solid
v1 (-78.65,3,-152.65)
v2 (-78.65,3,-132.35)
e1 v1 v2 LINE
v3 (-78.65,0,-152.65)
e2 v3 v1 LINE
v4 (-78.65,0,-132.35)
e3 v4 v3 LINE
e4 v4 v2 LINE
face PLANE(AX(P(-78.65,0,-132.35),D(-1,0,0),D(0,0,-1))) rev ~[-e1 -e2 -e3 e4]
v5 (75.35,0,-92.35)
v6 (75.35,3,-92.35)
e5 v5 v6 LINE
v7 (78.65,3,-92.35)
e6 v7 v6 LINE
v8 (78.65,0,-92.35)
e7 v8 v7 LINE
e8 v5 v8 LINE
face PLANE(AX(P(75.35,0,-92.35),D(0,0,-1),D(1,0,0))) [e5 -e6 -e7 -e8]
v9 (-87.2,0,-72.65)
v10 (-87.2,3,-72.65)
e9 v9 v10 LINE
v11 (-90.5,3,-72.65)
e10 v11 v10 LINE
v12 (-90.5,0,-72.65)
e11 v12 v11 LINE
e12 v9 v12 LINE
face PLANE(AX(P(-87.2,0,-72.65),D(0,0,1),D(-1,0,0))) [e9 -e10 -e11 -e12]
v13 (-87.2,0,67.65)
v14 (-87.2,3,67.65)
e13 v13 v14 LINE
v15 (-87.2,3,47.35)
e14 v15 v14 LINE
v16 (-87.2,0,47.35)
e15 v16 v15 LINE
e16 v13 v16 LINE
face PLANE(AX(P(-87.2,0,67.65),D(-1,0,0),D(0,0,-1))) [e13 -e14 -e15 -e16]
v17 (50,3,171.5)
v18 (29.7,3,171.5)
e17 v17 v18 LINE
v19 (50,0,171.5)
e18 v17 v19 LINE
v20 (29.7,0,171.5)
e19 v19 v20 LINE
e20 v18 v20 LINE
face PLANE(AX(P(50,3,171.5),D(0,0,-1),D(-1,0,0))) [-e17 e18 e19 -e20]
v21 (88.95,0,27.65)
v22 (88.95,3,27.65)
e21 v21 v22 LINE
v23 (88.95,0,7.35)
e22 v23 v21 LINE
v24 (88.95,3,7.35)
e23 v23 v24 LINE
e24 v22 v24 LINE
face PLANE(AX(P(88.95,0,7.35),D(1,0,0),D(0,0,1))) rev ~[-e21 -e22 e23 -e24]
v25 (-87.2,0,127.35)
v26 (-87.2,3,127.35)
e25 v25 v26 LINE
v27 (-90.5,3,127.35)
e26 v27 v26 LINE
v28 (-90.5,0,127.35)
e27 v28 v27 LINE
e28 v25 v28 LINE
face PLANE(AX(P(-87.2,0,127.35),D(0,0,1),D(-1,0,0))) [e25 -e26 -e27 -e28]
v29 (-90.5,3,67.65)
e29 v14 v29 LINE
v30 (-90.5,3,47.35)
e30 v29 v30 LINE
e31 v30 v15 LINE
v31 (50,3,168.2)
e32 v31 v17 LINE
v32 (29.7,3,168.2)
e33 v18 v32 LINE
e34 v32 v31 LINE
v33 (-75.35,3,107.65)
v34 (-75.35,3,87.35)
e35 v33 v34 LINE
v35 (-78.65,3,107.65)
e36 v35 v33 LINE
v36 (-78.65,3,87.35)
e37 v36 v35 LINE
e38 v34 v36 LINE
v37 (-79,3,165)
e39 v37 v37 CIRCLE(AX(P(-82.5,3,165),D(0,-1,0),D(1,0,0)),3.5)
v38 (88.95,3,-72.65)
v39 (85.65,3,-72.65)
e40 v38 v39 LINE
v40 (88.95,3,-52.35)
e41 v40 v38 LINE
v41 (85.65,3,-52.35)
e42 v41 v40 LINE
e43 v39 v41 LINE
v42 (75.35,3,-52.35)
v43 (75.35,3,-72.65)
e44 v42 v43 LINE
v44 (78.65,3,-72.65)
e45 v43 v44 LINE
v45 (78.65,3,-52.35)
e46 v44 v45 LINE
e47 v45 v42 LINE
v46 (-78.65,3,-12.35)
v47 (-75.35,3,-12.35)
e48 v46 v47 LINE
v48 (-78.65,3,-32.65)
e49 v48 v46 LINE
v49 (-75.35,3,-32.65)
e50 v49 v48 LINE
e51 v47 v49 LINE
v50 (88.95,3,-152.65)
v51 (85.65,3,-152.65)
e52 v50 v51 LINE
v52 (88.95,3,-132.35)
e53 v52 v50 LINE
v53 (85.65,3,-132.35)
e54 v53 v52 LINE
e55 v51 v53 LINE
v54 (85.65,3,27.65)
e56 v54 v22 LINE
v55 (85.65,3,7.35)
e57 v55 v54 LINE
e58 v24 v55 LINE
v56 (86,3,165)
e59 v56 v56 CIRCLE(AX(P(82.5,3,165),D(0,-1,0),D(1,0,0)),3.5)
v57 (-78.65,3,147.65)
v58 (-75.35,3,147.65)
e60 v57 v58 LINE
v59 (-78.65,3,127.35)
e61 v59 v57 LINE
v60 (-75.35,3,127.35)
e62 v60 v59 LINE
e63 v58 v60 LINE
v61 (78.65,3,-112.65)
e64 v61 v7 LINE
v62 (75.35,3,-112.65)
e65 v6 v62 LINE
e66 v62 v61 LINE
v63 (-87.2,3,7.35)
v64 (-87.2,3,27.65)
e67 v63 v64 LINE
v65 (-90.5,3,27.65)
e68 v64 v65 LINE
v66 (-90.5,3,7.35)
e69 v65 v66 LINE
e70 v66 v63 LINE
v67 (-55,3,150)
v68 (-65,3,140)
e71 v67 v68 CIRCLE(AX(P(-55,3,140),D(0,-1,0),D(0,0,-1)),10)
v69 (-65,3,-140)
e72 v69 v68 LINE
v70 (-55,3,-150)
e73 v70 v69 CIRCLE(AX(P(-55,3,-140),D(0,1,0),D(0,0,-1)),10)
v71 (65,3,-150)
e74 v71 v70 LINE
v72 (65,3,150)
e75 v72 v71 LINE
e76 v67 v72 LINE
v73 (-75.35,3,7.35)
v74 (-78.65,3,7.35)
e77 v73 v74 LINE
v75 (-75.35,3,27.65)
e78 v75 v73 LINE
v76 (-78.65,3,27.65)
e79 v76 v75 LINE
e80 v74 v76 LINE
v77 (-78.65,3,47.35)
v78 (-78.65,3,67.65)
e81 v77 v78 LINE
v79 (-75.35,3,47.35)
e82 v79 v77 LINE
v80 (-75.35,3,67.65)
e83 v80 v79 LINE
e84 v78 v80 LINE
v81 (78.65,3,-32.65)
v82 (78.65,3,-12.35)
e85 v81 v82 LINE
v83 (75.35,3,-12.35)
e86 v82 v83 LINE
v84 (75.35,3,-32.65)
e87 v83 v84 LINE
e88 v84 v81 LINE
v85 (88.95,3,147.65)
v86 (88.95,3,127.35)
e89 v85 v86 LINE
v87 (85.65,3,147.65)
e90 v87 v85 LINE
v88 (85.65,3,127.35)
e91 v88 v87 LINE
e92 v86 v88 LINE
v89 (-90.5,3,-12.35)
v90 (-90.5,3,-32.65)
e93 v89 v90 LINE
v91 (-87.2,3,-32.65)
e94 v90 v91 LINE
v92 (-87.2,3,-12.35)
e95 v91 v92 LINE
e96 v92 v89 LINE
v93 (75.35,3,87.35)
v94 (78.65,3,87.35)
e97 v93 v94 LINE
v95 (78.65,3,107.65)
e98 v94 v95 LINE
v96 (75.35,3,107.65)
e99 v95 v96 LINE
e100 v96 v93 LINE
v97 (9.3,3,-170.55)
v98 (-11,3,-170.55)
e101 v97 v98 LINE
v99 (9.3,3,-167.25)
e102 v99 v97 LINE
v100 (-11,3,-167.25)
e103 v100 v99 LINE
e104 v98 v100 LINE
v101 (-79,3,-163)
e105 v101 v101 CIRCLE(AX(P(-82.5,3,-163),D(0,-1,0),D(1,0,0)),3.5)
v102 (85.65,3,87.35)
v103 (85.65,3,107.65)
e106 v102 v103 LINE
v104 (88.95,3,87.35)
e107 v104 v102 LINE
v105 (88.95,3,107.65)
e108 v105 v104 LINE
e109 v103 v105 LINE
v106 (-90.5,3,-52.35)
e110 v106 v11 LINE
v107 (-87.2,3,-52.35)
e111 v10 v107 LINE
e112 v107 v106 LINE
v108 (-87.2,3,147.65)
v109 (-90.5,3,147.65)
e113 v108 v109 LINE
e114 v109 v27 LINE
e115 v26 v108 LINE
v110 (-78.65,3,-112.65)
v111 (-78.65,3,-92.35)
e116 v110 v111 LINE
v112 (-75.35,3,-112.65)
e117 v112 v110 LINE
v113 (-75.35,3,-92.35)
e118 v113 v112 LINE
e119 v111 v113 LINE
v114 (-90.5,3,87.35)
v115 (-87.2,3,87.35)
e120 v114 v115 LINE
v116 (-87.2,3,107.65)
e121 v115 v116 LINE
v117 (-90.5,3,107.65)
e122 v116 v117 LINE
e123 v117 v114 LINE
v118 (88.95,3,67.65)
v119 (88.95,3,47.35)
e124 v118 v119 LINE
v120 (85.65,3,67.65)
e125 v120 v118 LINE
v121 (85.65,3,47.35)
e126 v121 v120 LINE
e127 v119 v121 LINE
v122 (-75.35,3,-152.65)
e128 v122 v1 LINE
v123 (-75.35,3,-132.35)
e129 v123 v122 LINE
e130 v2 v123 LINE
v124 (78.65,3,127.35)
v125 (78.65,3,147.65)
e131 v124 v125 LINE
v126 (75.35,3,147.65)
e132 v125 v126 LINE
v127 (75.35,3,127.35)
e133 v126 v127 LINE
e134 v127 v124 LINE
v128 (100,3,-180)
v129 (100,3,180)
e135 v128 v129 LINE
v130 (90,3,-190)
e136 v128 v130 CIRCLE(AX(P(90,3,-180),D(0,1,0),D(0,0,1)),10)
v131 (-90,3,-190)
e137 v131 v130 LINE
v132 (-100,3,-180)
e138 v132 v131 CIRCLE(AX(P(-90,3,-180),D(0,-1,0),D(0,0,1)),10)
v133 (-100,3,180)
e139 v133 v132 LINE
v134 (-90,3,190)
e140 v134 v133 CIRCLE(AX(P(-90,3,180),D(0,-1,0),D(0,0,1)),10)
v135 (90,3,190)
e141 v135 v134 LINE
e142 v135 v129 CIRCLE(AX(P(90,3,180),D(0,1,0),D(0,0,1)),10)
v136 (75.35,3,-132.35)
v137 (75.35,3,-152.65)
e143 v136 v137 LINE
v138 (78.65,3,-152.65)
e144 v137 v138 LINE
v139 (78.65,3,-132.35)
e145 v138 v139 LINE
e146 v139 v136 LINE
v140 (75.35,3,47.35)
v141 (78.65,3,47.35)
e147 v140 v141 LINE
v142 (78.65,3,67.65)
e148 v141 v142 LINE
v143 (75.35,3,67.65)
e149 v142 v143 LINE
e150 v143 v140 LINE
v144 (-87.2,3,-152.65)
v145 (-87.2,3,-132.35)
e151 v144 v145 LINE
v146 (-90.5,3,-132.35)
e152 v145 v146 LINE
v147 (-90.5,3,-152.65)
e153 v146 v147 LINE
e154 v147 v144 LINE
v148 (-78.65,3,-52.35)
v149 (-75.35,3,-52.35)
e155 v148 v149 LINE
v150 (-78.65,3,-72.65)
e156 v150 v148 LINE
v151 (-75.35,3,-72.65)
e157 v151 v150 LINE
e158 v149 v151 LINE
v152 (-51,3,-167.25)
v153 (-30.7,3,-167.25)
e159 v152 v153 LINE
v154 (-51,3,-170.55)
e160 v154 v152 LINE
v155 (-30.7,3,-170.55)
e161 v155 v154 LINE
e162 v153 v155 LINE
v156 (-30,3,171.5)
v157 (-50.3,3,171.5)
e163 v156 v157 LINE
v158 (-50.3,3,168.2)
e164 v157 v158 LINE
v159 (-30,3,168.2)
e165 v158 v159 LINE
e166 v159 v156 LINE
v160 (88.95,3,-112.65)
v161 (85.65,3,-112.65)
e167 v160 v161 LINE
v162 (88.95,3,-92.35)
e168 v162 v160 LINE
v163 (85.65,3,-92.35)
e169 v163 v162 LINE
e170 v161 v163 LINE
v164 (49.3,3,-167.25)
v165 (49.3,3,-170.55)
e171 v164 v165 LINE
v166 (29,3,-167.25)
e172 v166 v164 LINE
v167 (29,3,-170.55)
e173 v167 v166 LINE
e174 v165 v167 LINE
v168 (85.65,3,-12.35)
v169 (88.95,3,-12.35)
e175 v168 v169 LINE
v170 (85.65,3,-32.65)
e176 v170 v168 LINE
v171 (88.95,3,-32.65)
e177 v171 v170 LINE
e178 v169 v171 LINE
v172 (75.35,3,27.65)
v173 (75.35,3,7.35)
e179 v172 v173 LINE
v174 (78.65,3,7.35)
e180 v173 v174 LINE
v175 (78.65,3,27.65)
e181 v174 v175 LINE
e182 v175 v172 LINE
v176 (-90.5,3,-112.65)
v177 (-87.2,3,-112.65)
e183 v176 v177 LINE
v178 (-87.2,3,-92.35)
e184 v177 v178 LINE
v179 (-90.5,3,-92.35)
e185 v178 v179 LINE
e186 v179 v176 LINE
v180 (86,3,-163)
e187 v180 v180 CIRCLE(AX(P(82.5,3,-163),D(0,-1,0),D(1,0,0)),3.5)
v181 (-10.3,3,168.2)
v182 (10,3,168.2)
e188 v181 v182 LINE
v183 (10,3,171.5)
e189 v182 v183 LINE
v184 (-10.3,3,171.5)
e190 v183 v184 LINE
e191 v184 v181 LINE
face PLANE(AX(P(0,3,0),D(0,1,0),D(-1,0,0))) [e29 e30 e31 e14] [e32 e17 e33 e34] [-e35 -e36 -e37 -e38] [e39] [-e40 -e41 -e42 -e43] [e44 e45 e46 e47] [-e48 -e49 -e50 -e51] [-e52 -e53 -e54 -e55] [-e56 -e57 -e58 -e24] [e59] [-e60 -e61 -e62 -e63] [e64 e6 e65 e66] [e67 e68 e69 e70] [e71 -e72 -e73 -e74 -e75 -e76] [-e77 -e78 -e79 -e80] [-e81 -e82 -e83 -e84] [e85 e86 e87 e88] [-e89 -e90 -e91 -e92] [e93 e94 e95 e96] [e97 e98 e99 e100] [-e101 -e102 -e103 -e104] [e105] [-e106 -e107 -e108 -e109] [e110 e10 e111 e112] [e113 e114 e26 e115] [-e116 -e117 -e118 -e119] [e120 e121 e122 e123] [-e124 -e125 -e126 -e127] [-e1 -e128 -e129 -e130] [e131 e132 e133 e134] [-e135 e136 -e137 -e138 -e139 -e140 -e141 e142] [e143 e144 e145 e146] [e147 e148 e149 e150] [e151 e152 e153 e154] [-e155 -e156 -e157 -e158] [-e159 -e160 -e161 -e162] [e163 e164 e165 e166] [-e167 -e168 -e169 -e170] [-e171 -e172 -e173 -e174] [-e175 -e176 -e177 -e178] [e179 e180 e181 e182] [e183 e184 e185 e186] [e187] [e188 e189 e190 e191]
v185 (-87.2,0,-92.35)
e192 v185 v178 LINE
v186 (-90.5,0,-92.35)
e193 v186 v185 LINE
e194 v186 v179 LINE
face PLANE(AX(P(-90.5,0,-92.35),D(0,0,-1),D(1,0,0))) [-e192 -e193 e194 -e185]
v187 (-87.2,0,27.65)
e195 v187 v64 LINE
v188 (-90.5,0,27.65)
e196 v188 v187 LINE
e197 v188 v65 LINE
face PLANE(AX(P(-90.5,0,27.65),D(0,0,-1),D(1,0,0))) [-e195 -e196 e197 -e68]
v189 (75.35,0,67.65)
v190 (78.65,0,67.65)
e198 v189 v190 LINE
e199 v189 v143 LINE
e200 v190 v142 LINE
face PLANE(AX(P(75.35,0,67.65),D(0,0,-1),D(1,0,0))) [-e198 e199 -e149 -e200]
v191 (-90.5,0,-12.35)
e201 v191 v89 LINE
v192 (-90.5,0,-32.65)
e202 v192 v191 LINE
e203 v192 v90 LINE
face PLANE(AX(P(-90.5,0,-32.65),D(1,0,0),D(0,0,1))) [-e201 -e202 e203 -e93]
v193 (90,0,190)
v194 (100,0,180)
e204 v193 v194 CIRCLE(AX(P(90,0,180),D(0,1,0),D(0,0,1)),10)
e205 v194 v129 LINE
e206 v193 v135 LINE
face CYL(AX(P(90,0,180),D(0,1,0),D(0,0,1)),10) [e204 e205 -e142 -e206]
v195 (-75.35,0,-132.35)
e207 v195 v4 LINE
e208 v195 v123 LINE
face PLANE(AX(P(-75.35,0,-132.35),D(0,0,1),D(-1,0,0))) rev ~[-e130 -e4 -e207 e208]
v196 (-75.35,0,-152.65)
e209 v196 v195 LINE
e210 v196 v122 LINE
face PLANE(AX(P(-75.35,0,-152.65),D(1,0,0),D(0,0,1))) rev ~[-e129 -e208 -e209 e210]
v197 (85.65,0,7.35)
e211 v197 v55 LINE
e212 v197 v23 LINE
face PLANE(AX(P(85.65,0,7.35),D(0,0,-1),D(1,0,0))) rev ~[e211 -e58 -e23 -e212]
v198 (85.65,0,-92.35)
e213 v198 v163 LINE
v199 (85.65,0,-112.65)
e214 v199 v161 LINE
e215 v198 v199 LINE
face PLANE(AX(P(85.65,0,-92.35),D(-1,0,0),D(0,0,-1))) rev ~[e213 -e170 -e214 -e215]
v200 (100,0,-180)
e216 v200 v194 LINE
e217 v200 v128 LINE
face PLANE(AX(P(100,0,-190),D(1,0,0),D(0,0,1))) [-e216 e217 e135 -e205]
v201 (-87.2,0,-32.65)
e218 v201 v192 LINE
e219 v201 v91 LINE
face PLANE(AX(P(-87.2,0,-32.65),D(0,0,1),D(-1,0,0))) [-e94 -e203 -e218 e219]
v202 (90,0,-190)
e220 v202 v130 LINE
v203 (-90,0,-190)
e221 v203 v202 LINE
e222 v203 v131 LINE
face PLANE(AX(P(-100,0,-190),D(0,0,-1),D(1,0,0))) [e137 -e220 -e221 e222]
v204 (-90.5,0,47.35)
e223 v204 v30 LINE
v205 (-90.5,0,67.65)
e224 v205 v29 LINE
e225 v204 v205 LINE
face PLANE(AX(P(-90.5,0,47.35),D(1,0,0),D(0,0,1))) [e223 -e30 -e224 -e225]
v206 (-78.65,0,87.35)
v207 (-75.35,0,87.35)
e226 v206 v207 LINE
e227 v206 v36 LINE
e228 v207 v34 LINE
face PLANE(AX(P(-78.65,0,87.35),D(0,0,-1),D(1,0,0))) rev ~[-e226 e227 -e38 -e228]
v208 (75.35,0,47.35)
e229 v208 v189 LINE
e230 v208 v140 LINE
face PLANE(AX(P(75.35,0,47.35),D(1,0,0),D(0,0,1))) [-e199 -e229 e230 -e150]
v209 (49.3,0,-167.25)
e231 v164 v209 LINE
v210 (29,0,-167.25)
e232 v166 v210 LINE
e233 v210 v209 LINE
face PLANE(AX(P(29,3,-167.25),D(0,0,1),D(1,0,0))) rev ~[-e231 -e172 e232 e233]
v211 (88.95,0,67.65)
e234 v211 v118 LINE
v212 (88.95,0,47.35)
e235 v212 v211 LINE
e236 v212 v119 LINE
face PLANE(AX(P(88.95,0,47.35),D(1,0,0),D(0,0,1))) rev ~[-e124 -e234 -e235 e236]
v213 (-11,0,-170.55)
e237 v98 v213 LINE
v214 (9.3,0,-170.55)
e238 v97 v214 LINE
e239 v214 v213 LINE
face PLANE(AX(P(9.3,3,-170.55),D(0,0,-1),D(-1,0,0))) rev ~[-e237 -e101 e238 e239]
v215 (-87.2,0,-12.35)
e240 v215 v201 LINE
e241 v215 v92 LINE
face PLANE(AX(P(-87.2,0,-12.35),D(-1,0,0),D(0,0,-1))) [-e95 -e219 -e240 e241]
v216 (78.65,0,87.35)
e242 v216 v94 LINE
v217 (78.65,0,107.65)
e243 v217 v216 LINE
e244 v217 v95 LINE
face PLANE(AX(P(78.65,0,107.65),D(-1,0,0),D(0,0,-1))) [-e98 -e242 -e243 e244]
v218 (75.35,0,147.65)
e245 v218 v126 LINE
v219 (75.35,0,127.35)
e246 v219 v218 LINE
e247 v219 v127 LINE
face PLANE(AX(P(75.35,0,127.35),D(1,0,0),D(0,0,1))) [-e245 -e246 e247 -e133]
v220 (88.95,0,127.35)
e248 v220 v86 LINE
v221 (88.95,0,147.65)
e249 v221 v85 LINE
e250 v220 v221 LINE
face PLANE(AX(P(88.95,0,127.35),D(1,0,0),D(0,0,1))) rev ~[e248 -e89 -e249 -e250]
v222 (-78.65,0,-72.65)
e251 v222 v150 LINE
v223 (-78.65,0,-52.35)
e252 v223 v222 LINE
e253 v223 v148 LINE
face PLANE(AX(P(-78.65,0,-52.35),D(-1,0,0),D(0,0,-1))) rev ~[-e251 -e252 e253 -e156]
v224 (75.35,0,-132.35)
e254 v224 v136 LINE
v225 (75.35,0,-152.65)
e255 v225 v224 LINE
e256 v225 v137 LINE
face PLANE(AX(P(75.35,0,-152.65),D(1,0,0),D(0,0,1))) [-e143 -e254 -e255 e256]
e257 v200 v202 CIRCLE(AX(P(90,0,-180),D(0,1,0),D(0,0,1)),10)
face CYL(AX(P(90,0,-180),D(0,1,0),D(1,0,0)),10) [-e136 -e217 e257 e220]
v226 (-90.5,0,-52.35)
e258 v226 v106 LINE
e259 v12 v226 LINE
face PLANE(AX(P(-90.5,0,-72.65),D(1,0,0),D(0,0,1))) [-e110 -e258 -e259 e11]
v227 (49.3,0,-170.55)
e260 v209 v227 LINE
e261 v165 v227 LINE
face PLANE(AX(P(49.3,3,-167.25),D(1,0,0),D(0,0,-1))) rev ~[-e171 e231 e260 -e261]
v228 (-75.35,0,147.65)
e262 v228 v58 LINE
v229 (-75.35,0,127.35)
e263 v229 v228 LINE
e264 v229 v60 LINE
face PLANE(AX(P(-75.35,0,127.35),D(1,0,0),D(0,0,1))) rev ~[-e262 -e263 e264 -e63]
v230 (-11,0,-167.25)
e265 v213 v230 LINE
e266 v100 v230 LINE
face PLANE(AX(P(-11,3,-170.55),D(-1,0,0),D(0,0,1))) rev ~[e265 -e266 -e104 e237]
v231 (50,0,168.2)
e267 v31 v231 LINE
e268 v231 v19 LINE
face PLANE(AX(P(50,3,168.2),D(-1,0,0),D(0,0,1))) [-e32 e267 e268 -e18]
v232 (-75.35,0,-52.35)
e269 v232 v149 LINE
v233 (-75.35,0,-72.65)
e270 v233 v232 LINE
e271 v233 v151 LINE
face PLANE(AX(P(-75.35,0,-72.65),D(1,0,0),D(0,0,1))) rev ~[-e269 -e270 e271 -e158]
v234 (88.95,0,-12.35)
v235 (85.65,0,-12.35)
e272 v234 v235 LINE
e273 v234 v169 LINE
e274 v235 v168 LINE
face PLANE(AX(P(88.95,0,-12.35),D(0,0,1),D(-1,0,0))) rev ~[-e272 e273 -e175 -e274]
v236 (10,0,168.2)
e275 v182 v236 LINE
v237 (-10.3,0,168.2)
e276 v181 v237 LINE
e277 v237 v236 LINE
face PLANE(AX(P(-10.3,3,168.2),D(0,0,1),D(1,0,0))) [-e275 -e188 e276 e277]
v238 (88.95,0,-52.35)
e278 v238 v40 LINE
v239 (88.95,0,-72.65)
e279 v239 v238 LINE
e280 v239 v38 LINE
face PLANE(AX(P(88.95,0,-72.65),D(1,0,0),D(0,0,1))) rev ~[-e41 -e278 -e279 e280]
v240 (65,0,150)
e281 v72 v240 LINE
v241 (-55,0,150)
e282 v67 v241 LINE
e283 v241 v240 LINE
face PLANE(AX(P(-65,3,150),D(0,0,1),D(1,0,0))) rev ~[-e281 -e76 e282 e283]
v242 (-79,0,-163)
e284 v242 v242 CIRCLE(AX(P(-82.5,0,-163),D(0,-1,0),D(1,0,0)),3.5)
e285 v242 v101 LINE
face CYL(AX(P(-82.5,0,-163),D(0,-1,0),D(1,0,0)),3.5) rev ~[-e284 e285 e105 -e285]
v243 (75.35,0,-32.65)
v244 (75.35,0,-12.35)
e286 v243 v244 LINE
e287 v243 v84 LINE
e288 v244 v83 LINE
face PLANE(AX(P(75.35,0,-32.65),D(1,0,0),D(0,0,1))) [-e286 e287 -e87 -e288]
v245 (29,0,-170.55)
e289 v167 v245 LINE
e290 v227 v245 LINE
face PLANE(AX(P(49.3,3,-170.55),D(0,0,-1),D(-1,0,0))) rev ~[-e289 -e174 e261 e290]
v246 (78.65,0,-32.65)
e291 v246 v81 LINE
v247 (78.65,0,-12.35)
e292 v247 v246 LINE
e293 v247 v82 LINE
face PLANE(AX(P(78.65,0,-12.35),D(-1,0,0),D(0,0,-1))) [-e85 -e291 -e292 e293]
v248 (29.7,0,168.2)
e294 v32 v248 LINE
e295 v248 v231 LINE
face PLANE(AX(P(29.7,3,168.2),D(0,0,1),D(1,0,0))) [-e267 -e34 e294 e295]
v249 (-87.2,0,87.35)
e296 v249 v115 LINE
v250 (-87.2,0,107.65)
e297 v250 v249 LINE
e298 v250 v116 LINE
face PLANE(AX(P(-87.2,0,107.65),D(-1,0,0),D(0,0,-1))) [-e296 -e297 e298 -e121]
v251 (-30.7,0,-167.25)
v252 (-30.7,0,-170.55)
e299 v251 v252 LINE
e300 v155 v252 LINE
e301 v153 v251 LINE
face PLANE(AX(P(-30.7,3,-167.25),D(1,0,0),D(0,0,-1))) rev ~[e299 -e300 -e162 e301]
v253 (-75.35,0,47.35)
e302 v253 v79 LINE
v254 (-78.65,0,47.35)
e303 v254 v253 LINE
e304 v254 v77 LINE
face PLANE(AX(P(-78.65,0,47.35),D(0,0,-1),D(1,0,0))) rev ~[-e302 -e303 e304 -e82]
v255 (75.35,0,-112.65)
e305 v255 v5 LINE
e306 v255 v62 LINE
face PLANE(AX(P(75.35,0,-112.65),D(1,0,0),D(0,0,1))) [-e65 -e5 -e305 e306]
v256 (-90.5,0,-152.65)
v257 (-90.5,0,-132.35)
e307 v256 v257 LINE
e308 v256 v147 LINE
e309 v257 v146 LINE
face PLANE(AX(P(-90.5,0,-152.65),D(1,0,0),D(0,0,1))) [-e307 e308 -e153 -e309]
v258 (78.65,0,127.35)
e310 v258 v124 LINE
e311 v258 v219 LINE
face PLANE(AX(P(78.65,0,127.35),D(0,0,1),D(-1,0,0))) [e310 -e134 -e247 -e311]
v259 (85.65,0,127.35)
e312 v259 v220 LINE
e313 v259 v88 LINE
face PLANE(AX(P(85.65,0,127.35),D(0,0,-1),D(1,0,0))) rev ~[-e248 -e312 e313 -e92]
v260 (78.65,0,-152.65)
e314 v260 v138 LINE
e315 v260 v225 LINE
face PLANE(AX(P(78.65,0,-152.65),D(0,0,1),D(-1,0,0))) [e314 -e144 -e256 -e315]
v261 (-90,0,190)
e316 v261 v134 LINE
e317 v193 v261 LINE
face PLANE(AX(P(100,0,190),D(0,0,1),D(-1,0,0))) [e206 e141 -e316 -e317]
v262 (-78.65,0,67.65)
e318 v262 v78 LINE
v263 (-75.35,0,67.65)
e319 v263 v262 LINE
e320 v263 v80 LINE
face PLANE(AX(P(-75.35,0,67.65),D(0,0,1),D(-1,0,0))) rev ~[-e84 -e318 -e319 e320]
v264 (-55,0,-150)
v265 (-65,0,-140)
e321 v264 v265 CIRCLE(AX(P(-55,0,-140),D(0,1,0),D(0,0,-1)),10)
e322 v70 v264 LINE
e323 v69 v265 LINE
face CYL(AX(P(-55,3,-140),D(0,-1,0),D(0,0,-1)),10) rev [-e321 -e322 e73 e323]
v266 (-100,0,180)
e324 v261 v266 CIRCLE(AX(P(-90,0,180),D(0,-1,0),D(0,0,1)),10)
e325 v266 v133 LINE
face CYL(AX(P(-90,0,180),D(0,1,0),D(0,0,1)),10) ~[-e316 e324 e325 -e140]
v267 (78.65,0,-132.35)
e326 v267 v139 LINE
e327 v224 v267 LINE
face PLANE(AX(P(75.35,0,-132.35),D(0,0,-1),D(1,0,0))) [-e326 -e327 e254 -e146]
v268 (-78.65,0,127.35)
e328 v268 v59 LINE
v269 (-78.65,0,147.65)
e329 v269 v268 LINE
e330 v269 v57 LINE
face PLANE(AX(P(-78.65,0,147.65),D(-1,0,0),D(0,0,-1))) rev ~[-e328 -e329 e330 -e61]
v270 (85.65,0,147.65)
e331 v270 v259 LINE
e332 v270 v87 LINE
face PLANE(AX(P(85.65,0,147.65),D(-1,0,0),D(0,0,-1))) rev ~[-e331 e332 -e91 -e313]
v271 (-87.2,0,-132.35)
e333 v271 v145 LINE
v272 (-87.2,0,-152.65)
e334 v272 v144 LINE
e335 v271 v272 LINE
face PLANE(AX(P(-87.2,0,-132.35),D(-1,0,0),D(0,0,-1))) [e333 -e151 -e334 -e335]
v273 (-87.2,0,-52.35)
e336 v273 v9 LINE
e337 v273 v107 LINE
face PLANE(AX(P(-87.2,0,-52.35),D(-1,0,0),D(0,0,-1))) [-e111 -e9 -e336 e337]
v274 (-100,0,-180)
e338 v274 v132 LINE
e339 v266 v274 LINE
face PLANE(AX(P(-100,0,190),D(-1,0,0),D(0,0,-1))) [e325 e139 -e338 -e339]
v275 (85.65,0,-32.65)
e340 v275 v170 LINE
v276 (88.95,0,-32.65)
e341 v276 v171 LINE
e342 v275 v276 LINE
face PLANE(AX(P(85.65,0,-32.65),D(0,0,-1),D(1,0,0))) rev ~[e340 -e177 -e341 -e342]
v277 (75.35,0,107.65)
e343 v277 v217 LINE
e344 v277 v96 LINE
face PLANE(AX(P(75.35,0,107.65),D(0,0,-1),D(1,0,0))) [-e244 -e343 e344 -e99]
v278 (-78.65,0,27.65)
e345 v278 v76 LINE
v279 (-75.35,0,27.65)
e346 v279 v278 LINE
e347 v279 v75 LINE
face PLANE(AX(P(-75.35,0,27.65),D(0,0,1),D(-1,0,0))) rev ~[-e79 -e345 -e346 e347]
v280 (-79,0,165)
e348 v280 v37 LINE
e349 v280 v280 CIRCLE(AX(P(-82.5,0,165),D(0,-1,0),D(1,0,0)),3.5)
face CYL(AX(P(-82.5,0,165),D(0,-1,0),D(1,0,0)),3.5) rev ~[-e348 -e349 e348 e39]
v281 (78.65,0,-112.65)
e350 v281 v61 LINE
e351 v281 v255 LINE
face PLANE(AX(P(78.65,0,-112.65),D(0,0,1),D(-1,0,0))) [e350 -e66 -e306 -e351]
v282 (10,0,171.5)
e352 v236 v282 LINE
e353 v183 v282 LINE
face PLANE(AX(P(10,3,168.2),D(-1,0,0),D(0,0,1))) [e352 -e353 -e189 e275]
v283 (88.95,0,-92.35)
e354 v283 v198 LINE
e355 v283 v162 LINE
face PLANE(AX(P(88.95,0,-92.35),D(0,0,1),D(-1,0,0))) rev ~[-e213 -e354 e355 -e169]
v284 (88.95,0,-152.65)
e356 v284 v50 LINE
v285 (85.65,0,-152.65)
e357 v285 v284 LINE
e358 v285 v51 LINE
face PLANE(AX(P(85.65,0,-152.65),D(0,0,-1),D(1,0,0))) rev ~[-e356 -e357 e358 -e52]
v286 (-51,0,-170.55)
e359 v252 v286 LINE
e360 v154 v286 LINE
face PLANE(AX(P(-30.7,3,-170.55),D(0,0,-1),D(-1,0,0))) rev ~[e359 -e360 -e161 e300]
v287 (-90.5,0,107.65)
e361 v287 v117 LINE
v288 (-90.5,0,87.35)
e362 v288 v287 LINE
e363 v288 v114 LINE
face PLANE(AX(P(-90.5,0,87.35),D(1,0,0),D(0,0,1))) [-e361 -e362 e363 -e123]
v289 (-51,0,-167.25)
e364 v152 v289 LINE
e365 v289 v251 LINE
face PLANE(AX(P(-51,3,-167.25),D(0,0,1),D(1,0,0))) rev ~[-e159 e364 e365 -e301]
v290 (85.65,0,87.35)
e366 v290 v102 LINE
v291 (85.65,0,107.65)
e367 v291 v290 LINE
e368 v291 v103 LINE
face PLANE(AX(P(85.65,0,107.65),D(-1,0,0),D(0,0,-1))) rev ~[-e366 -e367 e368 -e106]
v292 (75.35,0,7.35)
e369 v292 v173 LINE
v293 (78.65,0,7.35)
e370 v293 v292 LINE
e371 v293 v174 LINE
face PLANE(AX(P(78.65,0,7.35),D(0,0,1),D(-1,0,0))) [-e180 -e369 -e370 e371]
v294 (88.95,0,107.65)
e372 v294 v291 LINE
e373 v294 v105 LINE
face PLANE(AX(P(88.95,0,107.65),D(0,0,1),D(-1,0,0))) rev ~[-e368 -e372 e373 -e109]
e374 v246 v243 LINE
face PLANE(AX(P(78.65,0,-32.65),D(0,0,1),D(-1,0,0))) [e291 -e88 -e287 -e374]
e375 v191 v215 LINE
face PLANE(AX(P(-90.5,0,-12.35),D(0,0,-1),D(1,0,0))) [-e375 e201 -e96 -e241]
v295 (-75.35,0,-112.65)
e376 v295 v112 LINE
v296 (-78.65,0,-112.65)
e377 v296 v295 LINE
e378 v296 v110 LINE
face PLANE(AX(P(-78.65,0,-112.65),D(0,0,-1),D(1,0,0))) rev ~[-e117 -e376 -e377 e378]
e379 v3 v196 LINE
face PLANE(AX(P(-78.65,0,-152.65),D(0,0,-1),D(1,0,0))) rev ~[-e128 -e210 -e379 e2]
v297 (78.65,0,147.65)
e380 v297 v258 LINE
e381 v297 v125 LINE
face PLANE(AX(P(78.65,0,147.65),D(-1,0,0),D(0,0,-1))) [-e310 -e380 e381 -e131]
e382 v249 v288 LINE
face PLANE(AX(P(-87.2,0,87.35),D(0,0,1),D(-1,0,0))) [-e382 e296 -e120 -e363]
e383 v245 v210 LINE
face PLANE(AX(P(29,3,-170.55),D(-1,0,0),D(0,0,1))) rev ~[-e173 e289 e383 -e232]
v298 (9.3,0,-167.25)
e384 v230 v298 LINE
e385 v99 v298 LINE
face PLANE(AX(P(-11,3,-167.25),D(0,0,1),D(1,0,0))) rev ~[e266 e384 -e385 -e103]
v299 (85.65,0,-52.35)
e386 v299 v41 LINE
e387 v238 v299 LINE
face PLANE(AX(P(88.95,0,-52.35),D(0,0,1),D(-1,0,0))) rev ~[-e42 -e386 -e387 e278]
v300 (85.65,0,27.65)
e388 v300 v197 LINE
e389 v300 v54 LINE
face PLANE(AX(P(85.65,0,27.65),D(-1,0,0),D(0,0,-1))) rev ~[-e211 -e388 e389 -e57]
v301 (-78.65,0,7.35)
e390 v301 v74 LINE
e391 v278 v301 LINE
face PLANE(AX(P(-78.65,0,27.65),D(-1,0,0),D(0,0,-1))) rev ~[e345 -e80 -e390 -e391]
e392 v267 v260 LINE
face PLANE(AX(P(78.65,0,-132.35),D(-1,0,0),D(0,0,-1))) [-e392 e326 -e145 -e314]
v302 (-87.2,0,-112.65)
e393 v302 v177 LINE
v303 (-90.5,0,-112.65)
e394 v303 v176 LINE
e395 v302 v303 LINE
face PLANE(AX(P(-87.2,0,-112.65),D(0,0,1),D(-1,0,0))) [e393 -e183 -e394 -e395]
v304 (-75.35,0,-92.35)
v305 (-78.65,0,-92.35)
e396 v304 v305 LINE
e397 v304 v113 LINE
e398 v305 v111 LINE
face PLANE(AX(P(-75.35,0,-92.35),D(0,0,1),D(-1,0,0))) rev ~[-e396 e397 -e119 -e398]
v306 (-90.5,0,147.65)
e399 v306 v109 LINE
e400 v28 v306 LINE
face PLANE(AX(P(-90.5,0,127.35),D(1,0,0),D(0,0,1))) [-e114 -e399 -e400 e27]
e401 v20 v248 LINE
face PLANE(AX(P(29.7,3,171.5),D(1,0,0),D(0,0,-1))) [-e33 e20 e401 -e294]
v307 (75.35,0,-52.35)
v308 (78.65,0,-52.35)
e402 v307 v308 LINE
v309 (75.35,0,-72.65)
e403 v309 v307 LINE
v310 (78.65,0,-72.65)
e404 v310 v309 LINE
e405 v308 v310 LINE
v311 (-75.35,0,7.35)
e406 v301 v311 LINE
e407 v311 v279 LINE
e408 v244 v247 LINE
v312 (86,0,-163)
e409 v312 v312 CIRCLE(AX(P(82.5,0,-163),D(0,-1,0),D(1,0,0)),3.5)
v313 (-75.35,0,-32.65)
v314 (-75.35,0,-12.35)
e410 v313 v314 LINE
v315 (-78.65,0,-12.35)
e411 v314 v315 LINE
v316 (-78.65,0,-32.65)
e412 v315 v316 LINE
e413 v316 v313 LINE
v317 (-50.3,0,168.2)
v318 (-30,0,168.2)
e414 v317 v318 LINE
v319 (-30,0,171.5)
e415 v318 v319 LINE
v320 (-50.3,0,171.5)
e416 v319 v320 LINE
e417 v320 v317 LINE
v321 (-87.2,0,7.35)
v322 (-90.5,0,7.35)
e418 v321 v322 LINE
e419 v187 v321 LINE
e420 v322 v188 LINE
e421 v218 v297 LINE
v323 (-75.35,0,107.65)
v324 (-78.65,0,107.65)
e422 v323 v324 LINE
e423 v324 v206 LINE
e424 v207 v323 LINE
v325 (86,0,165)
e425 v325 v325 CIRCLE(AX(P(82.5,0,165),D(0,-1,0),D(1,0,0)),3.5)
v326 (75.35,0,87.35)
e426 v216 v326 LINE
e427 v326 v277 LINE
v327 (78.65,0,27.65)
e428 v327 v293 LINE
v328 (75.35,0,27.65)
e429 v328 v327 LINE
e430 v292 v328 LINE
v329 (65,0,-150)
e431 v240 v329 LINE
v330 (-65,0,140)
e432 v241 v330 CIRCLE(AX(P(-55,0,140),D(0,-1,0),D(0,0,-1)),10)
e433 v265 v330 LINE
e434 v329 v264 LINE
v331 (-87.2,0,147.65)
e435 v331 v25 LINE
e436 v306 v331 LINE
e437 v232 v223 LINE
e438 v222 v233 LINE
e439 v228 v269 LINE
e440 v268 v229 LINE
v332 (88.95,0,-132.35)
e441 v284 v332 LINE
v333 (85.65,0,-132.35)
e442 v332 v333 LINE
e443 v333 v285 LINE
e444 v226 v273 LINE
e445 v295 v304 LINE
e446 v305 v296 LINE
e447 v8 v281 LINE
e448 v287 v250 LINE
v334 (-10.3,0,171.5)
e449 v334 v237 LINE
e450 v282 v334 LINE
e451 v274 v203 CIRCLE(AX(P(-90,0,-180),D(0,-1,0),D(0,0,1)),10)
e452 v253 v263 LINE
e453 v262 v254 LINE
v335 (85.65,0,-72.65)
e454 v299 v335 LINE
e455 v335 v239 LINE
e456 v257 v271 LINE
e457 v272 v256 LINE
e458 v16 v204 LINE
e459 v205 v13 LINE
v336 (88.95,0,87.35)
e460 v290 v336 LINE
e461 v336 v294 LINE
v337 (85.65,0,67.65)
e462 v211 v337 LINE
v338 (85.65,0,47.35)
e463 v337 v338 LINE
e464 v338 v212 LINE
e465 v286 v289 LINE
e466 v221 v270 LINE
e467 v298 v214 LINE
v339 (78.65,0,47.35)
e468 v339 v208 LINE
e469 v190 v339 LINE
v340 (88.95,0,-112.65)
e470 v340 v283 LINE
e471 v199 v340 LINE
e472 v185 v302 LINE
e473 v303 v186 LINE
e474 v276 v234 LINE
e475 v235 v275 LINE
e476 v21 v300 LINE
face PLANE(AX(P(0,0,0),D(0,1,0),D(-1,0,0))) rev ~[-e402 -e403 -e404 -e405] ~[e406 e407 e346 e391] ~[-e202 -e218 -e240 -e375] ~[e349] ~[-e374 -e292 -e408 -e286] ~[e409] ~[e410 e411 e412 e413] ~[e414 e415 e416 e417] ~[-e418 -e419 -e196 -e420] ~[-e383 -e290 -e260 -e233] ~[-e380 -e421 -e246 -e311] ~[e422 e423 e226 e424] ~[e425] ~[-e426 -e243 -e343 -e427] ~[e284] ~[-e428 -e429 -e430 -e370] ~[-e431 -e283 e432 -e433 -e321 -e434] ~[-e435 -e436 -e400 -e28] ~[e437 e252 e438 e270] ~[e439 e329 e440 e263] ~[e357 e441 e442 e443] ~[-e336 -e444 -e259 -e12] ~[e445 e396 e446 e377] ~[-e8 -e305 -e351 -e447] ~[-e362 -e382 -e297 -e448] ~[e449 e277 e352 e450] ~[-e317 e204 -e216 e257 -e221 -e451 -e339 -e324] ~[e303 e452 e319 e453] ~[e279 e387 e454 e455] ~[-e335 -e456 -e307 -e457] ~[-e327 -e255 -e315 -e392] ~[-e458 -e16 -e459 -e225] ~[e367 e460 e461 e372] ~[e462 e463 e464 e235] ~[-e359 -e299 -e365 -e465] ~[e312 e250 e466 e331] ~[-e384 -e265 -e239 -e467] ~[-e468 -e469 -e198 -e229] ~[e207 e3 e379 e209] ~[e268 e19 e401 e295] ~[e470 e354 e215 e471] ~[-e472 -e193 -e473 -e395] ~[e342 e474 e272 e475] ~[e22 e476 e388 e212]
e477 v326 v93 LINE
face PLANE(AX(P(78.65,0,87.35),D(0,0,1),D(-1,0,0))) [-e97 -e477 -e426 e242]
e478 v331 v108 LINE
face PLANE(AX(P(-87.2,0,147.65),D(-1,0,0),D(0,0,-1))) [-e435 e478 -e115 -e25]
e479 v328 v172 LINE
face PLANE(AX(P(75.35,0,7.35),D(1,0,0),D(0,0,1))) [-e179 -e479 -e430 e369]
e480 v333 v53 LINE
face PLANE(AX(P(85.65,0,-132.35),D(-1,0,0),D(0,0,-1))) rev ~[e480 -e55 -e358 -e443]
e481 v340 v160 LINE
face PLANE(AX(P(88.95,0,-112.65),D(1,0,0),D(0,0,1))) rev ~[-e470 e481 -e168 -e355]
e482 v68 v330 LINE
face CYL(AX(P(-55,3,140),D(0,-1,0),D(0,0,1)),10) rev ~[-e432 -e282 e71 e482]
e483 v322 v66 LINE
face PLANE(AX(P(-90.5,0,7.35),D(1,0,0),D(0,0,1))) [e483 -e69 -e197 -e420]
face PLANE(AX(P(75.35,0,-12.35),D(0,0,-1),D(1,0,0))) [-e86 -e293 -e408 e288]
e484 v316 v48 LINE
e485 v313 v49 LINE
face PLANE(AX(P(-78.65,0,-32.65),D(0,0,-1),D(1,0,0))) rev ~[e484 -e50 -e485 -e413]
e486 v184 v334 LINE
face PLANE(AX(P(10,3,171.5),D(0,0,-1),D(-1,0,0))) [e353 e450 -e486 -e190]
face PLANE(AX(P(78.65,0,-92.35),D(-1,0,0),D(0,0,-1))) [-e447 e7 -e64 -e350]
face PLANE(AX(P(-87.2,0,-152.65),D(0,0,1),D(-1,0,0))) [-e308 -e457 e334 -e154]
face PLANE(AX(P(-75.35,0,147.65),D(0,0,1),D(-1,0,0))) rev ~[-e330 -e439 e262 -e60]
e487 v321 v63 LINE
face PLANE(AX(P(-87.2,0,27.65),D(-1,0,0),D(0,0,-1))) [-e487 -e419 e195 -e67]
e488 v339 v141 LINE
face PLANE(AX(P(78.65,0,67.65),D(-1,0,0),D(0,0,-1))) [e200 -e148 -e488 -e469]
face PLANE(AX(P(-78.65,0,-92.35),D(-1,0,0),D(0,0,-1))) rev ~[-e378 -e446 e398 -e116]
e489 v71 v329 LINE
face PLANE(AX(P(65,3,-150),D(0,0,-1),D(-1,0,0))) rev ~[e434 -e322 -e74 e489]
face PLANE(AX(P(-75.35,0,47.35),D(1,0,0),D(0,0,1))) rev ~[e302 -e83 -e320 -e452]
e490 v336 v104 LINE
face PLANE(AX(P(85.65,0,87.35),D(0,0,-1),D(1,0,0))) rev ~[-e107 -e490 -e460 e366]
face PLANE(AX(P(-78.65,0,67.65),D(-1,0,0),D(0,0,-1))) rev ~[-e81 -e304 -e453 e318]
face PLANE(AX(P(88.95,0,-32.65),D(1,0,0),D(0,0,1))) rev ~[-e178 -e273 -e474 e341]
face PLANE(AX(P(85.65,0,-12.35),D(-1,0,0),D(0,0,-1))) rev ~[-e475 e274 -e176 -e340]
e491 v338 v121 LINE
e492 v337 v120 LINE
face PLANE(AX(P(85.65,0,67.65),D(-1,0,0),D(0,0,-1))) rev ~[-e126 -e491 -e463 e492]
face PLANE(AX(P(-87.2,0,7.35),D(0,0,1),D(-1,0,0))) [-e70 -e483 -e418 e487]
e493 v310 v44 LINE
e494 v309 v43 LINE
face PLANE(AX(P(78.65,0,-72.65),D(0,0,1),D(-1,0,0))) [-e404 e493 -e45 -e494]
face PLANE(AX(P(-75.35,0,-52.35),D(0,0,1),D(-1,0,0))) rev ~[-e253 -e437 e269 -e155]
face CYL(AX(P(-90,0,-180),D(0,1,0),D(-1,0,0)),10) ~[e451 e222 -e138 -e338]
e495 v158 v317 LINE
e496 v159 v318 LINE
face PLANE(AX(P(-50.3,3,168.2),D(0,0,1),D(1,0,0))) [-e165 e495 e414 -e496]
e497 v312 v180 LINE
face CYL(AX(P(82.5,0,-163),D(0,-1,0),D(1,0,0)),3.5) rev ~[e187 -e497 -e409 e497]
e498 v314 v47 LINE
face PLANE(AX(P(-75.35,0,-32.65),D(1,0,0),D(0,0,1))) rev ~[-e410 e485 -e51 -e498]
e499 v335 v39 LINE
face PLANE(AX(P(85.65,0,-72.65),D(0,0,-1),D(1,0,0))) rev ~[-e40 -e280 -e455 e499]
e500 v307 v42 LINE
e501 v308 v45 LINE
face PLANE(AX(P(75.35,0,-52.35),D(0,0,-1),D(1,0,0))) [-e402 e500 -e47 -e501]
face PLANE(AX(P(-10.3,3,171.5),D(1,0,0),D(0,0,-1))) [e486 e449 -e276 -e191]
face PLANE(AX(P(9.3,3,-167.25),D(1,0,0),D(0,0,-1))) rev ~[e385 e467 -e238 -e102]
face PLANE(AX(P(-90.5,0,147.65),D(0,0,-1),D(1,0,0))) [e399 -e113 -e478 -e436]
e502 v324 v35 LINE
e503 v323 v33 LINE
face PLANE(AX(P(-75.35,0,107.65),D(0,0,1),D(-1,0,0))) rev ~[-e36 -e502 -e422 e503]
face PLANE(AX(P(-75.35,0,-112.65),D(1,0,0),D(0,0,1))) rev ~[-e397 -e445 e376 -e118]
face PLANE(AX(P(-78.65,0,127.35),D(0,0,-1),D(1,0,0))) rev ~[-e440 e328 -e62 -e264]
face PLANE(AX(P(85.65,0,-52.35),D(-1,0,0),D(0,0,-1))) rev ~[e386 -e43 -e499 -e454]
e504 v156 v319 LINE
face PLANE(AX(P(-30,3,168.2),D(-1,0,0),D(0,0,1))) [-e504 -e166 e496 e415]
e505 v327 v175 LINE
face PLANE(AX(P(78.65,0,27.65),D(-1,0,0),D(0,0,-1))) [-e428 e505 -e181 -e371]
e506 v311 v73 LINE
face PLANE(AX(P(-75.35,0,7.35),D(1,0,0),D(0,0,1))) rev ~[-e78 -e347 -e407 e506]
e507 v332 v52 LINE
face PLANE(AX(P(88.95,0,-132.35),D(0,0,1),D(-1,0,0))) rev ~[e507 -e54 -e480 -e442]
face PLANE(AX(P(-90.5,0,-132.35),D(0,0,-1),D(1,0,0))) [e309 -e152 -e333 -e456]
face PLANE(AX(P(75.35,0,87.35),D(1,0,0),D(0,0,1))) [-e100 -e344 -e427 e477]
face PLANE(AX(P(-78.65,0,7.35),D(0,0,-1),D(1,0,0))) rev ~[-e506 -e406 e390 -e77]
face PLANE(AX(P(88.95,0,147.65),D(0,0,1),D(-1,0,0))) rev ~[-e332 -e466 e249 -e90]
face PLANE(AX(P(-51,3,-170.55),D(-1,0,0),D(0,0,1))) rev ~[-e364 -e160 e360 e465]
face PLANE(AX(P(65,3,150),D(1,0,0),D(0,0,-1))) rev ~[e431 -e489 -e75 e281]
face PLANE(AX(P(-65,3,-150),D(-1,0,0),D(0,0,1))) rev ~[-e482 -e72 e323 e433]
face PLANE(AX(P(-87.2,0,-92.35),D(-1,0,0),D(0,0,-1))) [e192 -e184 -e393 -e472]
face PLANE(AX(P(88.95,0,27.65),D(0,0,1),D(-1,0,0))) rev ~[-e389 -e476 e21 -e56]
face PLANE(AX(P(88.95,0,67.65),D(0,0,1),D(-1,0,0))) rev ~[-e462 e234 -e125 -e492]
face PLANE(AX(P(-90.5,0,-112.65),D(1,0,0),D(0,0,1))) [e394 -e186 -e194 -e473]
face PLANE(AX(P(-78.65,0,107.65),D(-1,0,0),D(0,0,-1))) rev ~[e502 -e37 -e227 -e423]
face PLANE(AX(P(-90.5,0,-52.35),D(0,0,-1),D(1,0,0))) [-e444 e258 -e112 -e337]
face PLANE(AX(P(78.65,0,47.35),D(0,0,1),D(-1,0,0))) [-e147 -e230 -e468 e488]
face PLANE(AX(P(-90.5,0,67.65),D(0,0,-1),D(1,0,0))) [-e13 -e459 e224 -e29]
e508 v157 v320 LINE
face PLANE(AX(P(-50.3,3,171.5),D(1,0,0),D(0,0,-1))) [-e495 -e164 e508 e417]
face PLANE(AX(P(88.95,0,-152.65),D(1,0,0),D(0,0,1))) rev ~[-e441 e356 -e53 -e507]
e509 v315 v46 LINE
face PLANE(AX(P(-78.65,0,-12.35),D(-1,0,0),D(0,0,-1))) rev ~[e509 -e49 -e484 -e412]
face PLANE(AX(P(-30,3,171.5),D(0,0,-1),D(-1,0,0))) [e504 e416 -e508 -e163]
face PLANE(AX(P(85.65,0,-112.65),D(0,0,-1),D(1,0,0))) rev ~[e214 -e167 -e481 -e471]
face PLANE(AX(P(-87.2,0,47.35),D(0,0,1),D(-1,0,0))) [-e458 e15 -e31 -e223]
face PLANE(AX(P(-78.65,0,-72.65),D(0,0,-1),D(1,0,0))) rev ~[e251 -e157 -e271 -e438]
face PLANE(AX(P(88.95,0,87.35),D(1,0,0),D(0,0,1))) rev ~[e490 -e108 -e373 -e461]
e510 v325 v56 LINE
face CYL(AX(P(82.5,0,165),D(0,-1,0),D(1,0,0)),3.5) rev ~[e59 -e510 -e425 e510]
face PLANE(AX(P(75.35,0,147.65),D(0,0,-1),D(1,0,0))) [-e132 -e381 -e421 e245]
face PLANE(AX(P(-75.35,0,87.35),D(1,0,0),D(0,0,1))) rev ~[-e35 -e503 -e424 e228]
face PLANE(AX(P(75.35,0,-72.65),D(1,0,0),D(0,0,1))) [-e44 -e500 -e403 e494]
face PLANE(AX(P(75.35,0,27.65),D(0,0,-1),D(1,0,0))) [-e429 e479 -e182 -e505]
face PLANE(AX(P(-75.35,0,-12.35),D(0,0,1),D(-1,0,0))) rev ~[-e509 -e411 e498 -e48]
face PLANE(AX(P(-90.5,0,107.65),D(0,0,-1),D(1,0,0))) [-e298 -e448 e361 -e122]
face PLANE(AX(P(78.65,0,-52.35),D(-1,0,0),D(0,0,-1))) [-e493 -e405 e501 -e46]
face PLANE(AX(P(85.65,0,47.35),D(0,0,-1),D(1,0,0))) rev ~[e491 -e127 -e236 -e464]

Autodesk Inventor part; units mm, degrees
ref_plane "YZ Plane" through (0, 0, 0) normal (1, 0, 0) x (0, 1, 0)
ref_plane "XZ Plane" through (0, 0, 0) normal (0, 1, 0) x (-1, 0, 0)
ref_plane "XY Plane" through (0, 0, 0) normal (0, 0, 1) x (1, 0, 0)
sketch "Sketch1" plane through (0, 0, 0) normal (0, 1, 0) x (-1, 0, 0)
  line L0 (-100, 190) -> (100, 190)
  line L1 (100, 190) -> (100, -190)
  line L2 (100, -190) -> (-100, -190)
  line L3 (-100, -190) -> (-100, 190)
  line L4 (-100, 190) -> (100, -190) construction
  line L5 (100, 190) -> (-100, -190) construction
  point P0 (0, 0)
  dimension "d0" = 200
  dimension "d1" = 380
extrude "Extrusion1" add sketch "Sketch1" along normal blind 3
sketch "Sketch2" plane through (0, 3, 0) normal (0, 1, 0) x (1, 0, 0)
  line L0 (65, 150) -> (-65, 150)
  line L1 (-65, 150) -> (-65, -150)
  line L2 (-65, -150) -> (65, -150)
  line L3 (65, -150) -> (65, 150)
  line L4 (65, 150) -> (-65, -150) construction
  line L5 (-65, 150) -> (65, -150) construction
  point P0 (0, 0)
  dimension "d4" = 130
  dimension "d5" = 300
extrude "Extrusion2" cut sketch "Sketch2" against normal blind 4
sketch "Sketch3" plane through (0, 3, 0) normal (0, 1, 0) x (1, 0, 0)
  line L0 (100, 190) -> (100, -190) projected
  line L1 (-100, 190) -> (-100, -190) projected
  line L2 (-30.7, 170.55) -> (-51, 170.55)
  line L3 (-51, 170.55) -> (-51, 167.25)
  line L4 (-51, 167.25) -> (-30.7, 167.25)
  line L5 (-30.7, 167.25) -> (-30.7, 170.55)
  line L6 (-30.7, 170.55) -> (-51, 167.25) construction
  line L7 (-51, 170.55) -> (-30.7, 167.25) construction
  line L8 (100, 190) -> (-100, 190) projected
  line L9 (-50.3, -168.2) -> (-30, -168.2)
  line L10 (-30, -168.2) -> (-30, -171.5)
  line L11 (-30, -171.5) -> (-50.3, -171.5)
  line L12 (-50.3, -171.5) -> (-50.3, -168.2)
  line L13 (-50.3, -168.2) -> (-30, -171.5) construction
  line L14 (-30, -168.2) -> (-50.3, -171.5) construction
  line L15 (-100, -190) -> (100, -190) projected
  point P0 (0, 0)
  point P1 (-40.85, 168.9)
  point P2 (-40.15, -169.85)
  dimension "d21" = 20.3
  dimension "d22" = 3.3
  dimension "d24" = 20.3
  dimension "d25" = 3.3
  dimension "d26" = 18.5
  dimension "d32" = 49.7
  dimension "d33" = 49
  dimension "d34" = 22.75
extrude "Extrusion3" cut sketch "Sketch3" against normal blind 4 contours L5 L4 L3 L2 | L9 L10 L11 L12
sketch "Sketch4" plane through (0, 0, 0) normal (0, -1, 0) x (1, 0, 0)
  line L0 (-87.2, 127.35) -> (-90.5, 127.35)
  line L1 (-90.5, 127.35) -> (-90.5, 147.65)
  line L2 (-90.5, 147.65) -> (-87.2, 147.65)
  line L3 (-87.2, 147.65) -> (-87.2, 127.35)
  line L4 (-87.2, 127.35) -> (-90.5, 147.65) construction
  line L5 (-90.5, 127.35) -> (-87.2, 147.65) construction
  line L6 (100, 190) -> (-100, 190) projected
  line L7 (-100, 190) -> (-100, -190) projected
  line L8 (-75.35, 147.65) -> (-78.65, 147.65)
  line L9 (-78.65, 147.65) -> (-78.65, 127.35)
  line L10 (-78.65, 127.35) -> (-75.35, 127.35)
  line L11 (-75.35, 127.35) -> (-75.35, 147.65)
  line L12 (-75.35, 147.65) -> (-78.65, 127.35) construction
  line L13 (-78.65, 147.65) -> (-75.35, 127.35) construction
  line L14 (85.65, 127.35) -> (88.95, 127.35)
  line L15 (88.95, 127.35) -> (88.95, 147.65)
  line L16 (88.95, 147.65) -> (85.65, 147.65)
  line L17 (85.65, 147.65) -> (85.65, 127.35)
  line L18 (85.65, 127.35) -> (88.95, 147.65) construction
  line L19 (88.95, 127.35) -> (85.65, 147.65) construction
  line L20 (75.35, 147.65) -> (78.65, 147.65)
  line L21 (78.65, 147.65) -> (78.65, 127.35)
  line L22 (78.65, 127.35) -> (75.35, 127.35)
  line L23 (75.35, 127.35) -> (75.35, 147.65)
  line L24 (75.35, 147.65) -> (78.65, 127.35) construction
  line L25 (78.65, 147.65) -> (75.35, 127.35) construction
  line L26 (65, 150) -> (65, -150) projected
  line L27 (-65, 150) -> (65, 150) projected
  point P0 (0, 0)
  point P1 (-88.85, 137.5)
  point P2 (-77, 137.5)
  point P3 (87.3, 137.5)
  point P4 (77, 137.5)
  dimension "d35" = 3.3
  dimension "d36" = 20.3
  dimension "d37" = 42.35
  dimension "d38" = 9.5
  dimension "d39" = 3.3
  dimension "d40" = 20.3
  dimension "d41" = 8.55
  dimension "d47" = 42.35
  dimension "d80" = 20.3
  dimension "d81" = 10.35
  dimension "d82" = 7
  dimension "d83" = 2.35
  dimension "d84" = 2.35
  dimension "d85" = 3.3
  dimension "d86" = 3.3
extrude "Extrusion4" cut sketch "Sketch4" against normal blind 10
pattern_linear "Rectangular Pattern1" count 8 spacing 40 along (0, 0, -1) of "Extrusion4"
sketch "Sketch5" plane through (0, 0, 0) normal (0, -1, 0) x (1, 0, 0)
  circle A0 centre (-82.5, 165) radius 3.5
  circle A1 centre (-82.5, -163) radius 3.5
  circle A2 centre (82.5, -163) radius 3.5
  circle A3 centre (82.5, 165) radius 3.5
  line L0 (85.65, 147.65) -> (88.95, 147.65) projected
  line L1 (100, -190) -> (100, 190) projected
  line L2 (88.95, -152.65) -> (85.65, -152.65) projected
  line L3 (-75.35, -152.65) -> (-78.65, -152.65) projected
  line L4 (-65, -150) -> (-65, 150) projected
  line L5 (-90.5, 147.65) -> (-87.2, 147.65) projected
  circle A4 centre (-82.5, -2.5) radius 3.5
  circle A5 centre (86.5, -2.5) radius 3.5
  line L6 (100, 190) -> (-100, 190) projected
  line L7 (-100, -190) -> (100, -190) projected
  line L8 (-100, 190) -> (-100, -190) projected
  point P0 (0, 0)
  dimension "d48" = 7
  dimension "d49" = 7
  dimension "d50" = 7
  dimension "d51" = 7
  dimension "d53" = 17.5
  dimension "d54" = 17.5
  dimension "d65" = 7
  dimension "d66" = 160.5
  dimension "d67" = 167.5
  dimension "d68" = 7
  dimension "d69" = 167.5
  dimension "d70" = 160.5
  dimension "d71" = 25
  dimension "d72" = 27
  dimension "d73" = 27
  dimension "d76" = 17.5
  dimension "d77" = 17.5
  dimension "d78" = 25
extrude "Extrusion5" cut sketch "Sketch5" against normal blind 10 contours A0 | A1 | A2 | A3
pattern_linear "Rectangular Pattern2" count 3 spacing 40 along (1, 0, 0) of "Extrusion3"
fillet "Fillet1" radius 10 6 edges at (-100, 1.5, -190) (100, 1.5, -190) (100, 1.5, 190) (-100, 1.5, 190) (-65, 1.5, -150) (-65, 1.5, 150)
properties part number "prim"
